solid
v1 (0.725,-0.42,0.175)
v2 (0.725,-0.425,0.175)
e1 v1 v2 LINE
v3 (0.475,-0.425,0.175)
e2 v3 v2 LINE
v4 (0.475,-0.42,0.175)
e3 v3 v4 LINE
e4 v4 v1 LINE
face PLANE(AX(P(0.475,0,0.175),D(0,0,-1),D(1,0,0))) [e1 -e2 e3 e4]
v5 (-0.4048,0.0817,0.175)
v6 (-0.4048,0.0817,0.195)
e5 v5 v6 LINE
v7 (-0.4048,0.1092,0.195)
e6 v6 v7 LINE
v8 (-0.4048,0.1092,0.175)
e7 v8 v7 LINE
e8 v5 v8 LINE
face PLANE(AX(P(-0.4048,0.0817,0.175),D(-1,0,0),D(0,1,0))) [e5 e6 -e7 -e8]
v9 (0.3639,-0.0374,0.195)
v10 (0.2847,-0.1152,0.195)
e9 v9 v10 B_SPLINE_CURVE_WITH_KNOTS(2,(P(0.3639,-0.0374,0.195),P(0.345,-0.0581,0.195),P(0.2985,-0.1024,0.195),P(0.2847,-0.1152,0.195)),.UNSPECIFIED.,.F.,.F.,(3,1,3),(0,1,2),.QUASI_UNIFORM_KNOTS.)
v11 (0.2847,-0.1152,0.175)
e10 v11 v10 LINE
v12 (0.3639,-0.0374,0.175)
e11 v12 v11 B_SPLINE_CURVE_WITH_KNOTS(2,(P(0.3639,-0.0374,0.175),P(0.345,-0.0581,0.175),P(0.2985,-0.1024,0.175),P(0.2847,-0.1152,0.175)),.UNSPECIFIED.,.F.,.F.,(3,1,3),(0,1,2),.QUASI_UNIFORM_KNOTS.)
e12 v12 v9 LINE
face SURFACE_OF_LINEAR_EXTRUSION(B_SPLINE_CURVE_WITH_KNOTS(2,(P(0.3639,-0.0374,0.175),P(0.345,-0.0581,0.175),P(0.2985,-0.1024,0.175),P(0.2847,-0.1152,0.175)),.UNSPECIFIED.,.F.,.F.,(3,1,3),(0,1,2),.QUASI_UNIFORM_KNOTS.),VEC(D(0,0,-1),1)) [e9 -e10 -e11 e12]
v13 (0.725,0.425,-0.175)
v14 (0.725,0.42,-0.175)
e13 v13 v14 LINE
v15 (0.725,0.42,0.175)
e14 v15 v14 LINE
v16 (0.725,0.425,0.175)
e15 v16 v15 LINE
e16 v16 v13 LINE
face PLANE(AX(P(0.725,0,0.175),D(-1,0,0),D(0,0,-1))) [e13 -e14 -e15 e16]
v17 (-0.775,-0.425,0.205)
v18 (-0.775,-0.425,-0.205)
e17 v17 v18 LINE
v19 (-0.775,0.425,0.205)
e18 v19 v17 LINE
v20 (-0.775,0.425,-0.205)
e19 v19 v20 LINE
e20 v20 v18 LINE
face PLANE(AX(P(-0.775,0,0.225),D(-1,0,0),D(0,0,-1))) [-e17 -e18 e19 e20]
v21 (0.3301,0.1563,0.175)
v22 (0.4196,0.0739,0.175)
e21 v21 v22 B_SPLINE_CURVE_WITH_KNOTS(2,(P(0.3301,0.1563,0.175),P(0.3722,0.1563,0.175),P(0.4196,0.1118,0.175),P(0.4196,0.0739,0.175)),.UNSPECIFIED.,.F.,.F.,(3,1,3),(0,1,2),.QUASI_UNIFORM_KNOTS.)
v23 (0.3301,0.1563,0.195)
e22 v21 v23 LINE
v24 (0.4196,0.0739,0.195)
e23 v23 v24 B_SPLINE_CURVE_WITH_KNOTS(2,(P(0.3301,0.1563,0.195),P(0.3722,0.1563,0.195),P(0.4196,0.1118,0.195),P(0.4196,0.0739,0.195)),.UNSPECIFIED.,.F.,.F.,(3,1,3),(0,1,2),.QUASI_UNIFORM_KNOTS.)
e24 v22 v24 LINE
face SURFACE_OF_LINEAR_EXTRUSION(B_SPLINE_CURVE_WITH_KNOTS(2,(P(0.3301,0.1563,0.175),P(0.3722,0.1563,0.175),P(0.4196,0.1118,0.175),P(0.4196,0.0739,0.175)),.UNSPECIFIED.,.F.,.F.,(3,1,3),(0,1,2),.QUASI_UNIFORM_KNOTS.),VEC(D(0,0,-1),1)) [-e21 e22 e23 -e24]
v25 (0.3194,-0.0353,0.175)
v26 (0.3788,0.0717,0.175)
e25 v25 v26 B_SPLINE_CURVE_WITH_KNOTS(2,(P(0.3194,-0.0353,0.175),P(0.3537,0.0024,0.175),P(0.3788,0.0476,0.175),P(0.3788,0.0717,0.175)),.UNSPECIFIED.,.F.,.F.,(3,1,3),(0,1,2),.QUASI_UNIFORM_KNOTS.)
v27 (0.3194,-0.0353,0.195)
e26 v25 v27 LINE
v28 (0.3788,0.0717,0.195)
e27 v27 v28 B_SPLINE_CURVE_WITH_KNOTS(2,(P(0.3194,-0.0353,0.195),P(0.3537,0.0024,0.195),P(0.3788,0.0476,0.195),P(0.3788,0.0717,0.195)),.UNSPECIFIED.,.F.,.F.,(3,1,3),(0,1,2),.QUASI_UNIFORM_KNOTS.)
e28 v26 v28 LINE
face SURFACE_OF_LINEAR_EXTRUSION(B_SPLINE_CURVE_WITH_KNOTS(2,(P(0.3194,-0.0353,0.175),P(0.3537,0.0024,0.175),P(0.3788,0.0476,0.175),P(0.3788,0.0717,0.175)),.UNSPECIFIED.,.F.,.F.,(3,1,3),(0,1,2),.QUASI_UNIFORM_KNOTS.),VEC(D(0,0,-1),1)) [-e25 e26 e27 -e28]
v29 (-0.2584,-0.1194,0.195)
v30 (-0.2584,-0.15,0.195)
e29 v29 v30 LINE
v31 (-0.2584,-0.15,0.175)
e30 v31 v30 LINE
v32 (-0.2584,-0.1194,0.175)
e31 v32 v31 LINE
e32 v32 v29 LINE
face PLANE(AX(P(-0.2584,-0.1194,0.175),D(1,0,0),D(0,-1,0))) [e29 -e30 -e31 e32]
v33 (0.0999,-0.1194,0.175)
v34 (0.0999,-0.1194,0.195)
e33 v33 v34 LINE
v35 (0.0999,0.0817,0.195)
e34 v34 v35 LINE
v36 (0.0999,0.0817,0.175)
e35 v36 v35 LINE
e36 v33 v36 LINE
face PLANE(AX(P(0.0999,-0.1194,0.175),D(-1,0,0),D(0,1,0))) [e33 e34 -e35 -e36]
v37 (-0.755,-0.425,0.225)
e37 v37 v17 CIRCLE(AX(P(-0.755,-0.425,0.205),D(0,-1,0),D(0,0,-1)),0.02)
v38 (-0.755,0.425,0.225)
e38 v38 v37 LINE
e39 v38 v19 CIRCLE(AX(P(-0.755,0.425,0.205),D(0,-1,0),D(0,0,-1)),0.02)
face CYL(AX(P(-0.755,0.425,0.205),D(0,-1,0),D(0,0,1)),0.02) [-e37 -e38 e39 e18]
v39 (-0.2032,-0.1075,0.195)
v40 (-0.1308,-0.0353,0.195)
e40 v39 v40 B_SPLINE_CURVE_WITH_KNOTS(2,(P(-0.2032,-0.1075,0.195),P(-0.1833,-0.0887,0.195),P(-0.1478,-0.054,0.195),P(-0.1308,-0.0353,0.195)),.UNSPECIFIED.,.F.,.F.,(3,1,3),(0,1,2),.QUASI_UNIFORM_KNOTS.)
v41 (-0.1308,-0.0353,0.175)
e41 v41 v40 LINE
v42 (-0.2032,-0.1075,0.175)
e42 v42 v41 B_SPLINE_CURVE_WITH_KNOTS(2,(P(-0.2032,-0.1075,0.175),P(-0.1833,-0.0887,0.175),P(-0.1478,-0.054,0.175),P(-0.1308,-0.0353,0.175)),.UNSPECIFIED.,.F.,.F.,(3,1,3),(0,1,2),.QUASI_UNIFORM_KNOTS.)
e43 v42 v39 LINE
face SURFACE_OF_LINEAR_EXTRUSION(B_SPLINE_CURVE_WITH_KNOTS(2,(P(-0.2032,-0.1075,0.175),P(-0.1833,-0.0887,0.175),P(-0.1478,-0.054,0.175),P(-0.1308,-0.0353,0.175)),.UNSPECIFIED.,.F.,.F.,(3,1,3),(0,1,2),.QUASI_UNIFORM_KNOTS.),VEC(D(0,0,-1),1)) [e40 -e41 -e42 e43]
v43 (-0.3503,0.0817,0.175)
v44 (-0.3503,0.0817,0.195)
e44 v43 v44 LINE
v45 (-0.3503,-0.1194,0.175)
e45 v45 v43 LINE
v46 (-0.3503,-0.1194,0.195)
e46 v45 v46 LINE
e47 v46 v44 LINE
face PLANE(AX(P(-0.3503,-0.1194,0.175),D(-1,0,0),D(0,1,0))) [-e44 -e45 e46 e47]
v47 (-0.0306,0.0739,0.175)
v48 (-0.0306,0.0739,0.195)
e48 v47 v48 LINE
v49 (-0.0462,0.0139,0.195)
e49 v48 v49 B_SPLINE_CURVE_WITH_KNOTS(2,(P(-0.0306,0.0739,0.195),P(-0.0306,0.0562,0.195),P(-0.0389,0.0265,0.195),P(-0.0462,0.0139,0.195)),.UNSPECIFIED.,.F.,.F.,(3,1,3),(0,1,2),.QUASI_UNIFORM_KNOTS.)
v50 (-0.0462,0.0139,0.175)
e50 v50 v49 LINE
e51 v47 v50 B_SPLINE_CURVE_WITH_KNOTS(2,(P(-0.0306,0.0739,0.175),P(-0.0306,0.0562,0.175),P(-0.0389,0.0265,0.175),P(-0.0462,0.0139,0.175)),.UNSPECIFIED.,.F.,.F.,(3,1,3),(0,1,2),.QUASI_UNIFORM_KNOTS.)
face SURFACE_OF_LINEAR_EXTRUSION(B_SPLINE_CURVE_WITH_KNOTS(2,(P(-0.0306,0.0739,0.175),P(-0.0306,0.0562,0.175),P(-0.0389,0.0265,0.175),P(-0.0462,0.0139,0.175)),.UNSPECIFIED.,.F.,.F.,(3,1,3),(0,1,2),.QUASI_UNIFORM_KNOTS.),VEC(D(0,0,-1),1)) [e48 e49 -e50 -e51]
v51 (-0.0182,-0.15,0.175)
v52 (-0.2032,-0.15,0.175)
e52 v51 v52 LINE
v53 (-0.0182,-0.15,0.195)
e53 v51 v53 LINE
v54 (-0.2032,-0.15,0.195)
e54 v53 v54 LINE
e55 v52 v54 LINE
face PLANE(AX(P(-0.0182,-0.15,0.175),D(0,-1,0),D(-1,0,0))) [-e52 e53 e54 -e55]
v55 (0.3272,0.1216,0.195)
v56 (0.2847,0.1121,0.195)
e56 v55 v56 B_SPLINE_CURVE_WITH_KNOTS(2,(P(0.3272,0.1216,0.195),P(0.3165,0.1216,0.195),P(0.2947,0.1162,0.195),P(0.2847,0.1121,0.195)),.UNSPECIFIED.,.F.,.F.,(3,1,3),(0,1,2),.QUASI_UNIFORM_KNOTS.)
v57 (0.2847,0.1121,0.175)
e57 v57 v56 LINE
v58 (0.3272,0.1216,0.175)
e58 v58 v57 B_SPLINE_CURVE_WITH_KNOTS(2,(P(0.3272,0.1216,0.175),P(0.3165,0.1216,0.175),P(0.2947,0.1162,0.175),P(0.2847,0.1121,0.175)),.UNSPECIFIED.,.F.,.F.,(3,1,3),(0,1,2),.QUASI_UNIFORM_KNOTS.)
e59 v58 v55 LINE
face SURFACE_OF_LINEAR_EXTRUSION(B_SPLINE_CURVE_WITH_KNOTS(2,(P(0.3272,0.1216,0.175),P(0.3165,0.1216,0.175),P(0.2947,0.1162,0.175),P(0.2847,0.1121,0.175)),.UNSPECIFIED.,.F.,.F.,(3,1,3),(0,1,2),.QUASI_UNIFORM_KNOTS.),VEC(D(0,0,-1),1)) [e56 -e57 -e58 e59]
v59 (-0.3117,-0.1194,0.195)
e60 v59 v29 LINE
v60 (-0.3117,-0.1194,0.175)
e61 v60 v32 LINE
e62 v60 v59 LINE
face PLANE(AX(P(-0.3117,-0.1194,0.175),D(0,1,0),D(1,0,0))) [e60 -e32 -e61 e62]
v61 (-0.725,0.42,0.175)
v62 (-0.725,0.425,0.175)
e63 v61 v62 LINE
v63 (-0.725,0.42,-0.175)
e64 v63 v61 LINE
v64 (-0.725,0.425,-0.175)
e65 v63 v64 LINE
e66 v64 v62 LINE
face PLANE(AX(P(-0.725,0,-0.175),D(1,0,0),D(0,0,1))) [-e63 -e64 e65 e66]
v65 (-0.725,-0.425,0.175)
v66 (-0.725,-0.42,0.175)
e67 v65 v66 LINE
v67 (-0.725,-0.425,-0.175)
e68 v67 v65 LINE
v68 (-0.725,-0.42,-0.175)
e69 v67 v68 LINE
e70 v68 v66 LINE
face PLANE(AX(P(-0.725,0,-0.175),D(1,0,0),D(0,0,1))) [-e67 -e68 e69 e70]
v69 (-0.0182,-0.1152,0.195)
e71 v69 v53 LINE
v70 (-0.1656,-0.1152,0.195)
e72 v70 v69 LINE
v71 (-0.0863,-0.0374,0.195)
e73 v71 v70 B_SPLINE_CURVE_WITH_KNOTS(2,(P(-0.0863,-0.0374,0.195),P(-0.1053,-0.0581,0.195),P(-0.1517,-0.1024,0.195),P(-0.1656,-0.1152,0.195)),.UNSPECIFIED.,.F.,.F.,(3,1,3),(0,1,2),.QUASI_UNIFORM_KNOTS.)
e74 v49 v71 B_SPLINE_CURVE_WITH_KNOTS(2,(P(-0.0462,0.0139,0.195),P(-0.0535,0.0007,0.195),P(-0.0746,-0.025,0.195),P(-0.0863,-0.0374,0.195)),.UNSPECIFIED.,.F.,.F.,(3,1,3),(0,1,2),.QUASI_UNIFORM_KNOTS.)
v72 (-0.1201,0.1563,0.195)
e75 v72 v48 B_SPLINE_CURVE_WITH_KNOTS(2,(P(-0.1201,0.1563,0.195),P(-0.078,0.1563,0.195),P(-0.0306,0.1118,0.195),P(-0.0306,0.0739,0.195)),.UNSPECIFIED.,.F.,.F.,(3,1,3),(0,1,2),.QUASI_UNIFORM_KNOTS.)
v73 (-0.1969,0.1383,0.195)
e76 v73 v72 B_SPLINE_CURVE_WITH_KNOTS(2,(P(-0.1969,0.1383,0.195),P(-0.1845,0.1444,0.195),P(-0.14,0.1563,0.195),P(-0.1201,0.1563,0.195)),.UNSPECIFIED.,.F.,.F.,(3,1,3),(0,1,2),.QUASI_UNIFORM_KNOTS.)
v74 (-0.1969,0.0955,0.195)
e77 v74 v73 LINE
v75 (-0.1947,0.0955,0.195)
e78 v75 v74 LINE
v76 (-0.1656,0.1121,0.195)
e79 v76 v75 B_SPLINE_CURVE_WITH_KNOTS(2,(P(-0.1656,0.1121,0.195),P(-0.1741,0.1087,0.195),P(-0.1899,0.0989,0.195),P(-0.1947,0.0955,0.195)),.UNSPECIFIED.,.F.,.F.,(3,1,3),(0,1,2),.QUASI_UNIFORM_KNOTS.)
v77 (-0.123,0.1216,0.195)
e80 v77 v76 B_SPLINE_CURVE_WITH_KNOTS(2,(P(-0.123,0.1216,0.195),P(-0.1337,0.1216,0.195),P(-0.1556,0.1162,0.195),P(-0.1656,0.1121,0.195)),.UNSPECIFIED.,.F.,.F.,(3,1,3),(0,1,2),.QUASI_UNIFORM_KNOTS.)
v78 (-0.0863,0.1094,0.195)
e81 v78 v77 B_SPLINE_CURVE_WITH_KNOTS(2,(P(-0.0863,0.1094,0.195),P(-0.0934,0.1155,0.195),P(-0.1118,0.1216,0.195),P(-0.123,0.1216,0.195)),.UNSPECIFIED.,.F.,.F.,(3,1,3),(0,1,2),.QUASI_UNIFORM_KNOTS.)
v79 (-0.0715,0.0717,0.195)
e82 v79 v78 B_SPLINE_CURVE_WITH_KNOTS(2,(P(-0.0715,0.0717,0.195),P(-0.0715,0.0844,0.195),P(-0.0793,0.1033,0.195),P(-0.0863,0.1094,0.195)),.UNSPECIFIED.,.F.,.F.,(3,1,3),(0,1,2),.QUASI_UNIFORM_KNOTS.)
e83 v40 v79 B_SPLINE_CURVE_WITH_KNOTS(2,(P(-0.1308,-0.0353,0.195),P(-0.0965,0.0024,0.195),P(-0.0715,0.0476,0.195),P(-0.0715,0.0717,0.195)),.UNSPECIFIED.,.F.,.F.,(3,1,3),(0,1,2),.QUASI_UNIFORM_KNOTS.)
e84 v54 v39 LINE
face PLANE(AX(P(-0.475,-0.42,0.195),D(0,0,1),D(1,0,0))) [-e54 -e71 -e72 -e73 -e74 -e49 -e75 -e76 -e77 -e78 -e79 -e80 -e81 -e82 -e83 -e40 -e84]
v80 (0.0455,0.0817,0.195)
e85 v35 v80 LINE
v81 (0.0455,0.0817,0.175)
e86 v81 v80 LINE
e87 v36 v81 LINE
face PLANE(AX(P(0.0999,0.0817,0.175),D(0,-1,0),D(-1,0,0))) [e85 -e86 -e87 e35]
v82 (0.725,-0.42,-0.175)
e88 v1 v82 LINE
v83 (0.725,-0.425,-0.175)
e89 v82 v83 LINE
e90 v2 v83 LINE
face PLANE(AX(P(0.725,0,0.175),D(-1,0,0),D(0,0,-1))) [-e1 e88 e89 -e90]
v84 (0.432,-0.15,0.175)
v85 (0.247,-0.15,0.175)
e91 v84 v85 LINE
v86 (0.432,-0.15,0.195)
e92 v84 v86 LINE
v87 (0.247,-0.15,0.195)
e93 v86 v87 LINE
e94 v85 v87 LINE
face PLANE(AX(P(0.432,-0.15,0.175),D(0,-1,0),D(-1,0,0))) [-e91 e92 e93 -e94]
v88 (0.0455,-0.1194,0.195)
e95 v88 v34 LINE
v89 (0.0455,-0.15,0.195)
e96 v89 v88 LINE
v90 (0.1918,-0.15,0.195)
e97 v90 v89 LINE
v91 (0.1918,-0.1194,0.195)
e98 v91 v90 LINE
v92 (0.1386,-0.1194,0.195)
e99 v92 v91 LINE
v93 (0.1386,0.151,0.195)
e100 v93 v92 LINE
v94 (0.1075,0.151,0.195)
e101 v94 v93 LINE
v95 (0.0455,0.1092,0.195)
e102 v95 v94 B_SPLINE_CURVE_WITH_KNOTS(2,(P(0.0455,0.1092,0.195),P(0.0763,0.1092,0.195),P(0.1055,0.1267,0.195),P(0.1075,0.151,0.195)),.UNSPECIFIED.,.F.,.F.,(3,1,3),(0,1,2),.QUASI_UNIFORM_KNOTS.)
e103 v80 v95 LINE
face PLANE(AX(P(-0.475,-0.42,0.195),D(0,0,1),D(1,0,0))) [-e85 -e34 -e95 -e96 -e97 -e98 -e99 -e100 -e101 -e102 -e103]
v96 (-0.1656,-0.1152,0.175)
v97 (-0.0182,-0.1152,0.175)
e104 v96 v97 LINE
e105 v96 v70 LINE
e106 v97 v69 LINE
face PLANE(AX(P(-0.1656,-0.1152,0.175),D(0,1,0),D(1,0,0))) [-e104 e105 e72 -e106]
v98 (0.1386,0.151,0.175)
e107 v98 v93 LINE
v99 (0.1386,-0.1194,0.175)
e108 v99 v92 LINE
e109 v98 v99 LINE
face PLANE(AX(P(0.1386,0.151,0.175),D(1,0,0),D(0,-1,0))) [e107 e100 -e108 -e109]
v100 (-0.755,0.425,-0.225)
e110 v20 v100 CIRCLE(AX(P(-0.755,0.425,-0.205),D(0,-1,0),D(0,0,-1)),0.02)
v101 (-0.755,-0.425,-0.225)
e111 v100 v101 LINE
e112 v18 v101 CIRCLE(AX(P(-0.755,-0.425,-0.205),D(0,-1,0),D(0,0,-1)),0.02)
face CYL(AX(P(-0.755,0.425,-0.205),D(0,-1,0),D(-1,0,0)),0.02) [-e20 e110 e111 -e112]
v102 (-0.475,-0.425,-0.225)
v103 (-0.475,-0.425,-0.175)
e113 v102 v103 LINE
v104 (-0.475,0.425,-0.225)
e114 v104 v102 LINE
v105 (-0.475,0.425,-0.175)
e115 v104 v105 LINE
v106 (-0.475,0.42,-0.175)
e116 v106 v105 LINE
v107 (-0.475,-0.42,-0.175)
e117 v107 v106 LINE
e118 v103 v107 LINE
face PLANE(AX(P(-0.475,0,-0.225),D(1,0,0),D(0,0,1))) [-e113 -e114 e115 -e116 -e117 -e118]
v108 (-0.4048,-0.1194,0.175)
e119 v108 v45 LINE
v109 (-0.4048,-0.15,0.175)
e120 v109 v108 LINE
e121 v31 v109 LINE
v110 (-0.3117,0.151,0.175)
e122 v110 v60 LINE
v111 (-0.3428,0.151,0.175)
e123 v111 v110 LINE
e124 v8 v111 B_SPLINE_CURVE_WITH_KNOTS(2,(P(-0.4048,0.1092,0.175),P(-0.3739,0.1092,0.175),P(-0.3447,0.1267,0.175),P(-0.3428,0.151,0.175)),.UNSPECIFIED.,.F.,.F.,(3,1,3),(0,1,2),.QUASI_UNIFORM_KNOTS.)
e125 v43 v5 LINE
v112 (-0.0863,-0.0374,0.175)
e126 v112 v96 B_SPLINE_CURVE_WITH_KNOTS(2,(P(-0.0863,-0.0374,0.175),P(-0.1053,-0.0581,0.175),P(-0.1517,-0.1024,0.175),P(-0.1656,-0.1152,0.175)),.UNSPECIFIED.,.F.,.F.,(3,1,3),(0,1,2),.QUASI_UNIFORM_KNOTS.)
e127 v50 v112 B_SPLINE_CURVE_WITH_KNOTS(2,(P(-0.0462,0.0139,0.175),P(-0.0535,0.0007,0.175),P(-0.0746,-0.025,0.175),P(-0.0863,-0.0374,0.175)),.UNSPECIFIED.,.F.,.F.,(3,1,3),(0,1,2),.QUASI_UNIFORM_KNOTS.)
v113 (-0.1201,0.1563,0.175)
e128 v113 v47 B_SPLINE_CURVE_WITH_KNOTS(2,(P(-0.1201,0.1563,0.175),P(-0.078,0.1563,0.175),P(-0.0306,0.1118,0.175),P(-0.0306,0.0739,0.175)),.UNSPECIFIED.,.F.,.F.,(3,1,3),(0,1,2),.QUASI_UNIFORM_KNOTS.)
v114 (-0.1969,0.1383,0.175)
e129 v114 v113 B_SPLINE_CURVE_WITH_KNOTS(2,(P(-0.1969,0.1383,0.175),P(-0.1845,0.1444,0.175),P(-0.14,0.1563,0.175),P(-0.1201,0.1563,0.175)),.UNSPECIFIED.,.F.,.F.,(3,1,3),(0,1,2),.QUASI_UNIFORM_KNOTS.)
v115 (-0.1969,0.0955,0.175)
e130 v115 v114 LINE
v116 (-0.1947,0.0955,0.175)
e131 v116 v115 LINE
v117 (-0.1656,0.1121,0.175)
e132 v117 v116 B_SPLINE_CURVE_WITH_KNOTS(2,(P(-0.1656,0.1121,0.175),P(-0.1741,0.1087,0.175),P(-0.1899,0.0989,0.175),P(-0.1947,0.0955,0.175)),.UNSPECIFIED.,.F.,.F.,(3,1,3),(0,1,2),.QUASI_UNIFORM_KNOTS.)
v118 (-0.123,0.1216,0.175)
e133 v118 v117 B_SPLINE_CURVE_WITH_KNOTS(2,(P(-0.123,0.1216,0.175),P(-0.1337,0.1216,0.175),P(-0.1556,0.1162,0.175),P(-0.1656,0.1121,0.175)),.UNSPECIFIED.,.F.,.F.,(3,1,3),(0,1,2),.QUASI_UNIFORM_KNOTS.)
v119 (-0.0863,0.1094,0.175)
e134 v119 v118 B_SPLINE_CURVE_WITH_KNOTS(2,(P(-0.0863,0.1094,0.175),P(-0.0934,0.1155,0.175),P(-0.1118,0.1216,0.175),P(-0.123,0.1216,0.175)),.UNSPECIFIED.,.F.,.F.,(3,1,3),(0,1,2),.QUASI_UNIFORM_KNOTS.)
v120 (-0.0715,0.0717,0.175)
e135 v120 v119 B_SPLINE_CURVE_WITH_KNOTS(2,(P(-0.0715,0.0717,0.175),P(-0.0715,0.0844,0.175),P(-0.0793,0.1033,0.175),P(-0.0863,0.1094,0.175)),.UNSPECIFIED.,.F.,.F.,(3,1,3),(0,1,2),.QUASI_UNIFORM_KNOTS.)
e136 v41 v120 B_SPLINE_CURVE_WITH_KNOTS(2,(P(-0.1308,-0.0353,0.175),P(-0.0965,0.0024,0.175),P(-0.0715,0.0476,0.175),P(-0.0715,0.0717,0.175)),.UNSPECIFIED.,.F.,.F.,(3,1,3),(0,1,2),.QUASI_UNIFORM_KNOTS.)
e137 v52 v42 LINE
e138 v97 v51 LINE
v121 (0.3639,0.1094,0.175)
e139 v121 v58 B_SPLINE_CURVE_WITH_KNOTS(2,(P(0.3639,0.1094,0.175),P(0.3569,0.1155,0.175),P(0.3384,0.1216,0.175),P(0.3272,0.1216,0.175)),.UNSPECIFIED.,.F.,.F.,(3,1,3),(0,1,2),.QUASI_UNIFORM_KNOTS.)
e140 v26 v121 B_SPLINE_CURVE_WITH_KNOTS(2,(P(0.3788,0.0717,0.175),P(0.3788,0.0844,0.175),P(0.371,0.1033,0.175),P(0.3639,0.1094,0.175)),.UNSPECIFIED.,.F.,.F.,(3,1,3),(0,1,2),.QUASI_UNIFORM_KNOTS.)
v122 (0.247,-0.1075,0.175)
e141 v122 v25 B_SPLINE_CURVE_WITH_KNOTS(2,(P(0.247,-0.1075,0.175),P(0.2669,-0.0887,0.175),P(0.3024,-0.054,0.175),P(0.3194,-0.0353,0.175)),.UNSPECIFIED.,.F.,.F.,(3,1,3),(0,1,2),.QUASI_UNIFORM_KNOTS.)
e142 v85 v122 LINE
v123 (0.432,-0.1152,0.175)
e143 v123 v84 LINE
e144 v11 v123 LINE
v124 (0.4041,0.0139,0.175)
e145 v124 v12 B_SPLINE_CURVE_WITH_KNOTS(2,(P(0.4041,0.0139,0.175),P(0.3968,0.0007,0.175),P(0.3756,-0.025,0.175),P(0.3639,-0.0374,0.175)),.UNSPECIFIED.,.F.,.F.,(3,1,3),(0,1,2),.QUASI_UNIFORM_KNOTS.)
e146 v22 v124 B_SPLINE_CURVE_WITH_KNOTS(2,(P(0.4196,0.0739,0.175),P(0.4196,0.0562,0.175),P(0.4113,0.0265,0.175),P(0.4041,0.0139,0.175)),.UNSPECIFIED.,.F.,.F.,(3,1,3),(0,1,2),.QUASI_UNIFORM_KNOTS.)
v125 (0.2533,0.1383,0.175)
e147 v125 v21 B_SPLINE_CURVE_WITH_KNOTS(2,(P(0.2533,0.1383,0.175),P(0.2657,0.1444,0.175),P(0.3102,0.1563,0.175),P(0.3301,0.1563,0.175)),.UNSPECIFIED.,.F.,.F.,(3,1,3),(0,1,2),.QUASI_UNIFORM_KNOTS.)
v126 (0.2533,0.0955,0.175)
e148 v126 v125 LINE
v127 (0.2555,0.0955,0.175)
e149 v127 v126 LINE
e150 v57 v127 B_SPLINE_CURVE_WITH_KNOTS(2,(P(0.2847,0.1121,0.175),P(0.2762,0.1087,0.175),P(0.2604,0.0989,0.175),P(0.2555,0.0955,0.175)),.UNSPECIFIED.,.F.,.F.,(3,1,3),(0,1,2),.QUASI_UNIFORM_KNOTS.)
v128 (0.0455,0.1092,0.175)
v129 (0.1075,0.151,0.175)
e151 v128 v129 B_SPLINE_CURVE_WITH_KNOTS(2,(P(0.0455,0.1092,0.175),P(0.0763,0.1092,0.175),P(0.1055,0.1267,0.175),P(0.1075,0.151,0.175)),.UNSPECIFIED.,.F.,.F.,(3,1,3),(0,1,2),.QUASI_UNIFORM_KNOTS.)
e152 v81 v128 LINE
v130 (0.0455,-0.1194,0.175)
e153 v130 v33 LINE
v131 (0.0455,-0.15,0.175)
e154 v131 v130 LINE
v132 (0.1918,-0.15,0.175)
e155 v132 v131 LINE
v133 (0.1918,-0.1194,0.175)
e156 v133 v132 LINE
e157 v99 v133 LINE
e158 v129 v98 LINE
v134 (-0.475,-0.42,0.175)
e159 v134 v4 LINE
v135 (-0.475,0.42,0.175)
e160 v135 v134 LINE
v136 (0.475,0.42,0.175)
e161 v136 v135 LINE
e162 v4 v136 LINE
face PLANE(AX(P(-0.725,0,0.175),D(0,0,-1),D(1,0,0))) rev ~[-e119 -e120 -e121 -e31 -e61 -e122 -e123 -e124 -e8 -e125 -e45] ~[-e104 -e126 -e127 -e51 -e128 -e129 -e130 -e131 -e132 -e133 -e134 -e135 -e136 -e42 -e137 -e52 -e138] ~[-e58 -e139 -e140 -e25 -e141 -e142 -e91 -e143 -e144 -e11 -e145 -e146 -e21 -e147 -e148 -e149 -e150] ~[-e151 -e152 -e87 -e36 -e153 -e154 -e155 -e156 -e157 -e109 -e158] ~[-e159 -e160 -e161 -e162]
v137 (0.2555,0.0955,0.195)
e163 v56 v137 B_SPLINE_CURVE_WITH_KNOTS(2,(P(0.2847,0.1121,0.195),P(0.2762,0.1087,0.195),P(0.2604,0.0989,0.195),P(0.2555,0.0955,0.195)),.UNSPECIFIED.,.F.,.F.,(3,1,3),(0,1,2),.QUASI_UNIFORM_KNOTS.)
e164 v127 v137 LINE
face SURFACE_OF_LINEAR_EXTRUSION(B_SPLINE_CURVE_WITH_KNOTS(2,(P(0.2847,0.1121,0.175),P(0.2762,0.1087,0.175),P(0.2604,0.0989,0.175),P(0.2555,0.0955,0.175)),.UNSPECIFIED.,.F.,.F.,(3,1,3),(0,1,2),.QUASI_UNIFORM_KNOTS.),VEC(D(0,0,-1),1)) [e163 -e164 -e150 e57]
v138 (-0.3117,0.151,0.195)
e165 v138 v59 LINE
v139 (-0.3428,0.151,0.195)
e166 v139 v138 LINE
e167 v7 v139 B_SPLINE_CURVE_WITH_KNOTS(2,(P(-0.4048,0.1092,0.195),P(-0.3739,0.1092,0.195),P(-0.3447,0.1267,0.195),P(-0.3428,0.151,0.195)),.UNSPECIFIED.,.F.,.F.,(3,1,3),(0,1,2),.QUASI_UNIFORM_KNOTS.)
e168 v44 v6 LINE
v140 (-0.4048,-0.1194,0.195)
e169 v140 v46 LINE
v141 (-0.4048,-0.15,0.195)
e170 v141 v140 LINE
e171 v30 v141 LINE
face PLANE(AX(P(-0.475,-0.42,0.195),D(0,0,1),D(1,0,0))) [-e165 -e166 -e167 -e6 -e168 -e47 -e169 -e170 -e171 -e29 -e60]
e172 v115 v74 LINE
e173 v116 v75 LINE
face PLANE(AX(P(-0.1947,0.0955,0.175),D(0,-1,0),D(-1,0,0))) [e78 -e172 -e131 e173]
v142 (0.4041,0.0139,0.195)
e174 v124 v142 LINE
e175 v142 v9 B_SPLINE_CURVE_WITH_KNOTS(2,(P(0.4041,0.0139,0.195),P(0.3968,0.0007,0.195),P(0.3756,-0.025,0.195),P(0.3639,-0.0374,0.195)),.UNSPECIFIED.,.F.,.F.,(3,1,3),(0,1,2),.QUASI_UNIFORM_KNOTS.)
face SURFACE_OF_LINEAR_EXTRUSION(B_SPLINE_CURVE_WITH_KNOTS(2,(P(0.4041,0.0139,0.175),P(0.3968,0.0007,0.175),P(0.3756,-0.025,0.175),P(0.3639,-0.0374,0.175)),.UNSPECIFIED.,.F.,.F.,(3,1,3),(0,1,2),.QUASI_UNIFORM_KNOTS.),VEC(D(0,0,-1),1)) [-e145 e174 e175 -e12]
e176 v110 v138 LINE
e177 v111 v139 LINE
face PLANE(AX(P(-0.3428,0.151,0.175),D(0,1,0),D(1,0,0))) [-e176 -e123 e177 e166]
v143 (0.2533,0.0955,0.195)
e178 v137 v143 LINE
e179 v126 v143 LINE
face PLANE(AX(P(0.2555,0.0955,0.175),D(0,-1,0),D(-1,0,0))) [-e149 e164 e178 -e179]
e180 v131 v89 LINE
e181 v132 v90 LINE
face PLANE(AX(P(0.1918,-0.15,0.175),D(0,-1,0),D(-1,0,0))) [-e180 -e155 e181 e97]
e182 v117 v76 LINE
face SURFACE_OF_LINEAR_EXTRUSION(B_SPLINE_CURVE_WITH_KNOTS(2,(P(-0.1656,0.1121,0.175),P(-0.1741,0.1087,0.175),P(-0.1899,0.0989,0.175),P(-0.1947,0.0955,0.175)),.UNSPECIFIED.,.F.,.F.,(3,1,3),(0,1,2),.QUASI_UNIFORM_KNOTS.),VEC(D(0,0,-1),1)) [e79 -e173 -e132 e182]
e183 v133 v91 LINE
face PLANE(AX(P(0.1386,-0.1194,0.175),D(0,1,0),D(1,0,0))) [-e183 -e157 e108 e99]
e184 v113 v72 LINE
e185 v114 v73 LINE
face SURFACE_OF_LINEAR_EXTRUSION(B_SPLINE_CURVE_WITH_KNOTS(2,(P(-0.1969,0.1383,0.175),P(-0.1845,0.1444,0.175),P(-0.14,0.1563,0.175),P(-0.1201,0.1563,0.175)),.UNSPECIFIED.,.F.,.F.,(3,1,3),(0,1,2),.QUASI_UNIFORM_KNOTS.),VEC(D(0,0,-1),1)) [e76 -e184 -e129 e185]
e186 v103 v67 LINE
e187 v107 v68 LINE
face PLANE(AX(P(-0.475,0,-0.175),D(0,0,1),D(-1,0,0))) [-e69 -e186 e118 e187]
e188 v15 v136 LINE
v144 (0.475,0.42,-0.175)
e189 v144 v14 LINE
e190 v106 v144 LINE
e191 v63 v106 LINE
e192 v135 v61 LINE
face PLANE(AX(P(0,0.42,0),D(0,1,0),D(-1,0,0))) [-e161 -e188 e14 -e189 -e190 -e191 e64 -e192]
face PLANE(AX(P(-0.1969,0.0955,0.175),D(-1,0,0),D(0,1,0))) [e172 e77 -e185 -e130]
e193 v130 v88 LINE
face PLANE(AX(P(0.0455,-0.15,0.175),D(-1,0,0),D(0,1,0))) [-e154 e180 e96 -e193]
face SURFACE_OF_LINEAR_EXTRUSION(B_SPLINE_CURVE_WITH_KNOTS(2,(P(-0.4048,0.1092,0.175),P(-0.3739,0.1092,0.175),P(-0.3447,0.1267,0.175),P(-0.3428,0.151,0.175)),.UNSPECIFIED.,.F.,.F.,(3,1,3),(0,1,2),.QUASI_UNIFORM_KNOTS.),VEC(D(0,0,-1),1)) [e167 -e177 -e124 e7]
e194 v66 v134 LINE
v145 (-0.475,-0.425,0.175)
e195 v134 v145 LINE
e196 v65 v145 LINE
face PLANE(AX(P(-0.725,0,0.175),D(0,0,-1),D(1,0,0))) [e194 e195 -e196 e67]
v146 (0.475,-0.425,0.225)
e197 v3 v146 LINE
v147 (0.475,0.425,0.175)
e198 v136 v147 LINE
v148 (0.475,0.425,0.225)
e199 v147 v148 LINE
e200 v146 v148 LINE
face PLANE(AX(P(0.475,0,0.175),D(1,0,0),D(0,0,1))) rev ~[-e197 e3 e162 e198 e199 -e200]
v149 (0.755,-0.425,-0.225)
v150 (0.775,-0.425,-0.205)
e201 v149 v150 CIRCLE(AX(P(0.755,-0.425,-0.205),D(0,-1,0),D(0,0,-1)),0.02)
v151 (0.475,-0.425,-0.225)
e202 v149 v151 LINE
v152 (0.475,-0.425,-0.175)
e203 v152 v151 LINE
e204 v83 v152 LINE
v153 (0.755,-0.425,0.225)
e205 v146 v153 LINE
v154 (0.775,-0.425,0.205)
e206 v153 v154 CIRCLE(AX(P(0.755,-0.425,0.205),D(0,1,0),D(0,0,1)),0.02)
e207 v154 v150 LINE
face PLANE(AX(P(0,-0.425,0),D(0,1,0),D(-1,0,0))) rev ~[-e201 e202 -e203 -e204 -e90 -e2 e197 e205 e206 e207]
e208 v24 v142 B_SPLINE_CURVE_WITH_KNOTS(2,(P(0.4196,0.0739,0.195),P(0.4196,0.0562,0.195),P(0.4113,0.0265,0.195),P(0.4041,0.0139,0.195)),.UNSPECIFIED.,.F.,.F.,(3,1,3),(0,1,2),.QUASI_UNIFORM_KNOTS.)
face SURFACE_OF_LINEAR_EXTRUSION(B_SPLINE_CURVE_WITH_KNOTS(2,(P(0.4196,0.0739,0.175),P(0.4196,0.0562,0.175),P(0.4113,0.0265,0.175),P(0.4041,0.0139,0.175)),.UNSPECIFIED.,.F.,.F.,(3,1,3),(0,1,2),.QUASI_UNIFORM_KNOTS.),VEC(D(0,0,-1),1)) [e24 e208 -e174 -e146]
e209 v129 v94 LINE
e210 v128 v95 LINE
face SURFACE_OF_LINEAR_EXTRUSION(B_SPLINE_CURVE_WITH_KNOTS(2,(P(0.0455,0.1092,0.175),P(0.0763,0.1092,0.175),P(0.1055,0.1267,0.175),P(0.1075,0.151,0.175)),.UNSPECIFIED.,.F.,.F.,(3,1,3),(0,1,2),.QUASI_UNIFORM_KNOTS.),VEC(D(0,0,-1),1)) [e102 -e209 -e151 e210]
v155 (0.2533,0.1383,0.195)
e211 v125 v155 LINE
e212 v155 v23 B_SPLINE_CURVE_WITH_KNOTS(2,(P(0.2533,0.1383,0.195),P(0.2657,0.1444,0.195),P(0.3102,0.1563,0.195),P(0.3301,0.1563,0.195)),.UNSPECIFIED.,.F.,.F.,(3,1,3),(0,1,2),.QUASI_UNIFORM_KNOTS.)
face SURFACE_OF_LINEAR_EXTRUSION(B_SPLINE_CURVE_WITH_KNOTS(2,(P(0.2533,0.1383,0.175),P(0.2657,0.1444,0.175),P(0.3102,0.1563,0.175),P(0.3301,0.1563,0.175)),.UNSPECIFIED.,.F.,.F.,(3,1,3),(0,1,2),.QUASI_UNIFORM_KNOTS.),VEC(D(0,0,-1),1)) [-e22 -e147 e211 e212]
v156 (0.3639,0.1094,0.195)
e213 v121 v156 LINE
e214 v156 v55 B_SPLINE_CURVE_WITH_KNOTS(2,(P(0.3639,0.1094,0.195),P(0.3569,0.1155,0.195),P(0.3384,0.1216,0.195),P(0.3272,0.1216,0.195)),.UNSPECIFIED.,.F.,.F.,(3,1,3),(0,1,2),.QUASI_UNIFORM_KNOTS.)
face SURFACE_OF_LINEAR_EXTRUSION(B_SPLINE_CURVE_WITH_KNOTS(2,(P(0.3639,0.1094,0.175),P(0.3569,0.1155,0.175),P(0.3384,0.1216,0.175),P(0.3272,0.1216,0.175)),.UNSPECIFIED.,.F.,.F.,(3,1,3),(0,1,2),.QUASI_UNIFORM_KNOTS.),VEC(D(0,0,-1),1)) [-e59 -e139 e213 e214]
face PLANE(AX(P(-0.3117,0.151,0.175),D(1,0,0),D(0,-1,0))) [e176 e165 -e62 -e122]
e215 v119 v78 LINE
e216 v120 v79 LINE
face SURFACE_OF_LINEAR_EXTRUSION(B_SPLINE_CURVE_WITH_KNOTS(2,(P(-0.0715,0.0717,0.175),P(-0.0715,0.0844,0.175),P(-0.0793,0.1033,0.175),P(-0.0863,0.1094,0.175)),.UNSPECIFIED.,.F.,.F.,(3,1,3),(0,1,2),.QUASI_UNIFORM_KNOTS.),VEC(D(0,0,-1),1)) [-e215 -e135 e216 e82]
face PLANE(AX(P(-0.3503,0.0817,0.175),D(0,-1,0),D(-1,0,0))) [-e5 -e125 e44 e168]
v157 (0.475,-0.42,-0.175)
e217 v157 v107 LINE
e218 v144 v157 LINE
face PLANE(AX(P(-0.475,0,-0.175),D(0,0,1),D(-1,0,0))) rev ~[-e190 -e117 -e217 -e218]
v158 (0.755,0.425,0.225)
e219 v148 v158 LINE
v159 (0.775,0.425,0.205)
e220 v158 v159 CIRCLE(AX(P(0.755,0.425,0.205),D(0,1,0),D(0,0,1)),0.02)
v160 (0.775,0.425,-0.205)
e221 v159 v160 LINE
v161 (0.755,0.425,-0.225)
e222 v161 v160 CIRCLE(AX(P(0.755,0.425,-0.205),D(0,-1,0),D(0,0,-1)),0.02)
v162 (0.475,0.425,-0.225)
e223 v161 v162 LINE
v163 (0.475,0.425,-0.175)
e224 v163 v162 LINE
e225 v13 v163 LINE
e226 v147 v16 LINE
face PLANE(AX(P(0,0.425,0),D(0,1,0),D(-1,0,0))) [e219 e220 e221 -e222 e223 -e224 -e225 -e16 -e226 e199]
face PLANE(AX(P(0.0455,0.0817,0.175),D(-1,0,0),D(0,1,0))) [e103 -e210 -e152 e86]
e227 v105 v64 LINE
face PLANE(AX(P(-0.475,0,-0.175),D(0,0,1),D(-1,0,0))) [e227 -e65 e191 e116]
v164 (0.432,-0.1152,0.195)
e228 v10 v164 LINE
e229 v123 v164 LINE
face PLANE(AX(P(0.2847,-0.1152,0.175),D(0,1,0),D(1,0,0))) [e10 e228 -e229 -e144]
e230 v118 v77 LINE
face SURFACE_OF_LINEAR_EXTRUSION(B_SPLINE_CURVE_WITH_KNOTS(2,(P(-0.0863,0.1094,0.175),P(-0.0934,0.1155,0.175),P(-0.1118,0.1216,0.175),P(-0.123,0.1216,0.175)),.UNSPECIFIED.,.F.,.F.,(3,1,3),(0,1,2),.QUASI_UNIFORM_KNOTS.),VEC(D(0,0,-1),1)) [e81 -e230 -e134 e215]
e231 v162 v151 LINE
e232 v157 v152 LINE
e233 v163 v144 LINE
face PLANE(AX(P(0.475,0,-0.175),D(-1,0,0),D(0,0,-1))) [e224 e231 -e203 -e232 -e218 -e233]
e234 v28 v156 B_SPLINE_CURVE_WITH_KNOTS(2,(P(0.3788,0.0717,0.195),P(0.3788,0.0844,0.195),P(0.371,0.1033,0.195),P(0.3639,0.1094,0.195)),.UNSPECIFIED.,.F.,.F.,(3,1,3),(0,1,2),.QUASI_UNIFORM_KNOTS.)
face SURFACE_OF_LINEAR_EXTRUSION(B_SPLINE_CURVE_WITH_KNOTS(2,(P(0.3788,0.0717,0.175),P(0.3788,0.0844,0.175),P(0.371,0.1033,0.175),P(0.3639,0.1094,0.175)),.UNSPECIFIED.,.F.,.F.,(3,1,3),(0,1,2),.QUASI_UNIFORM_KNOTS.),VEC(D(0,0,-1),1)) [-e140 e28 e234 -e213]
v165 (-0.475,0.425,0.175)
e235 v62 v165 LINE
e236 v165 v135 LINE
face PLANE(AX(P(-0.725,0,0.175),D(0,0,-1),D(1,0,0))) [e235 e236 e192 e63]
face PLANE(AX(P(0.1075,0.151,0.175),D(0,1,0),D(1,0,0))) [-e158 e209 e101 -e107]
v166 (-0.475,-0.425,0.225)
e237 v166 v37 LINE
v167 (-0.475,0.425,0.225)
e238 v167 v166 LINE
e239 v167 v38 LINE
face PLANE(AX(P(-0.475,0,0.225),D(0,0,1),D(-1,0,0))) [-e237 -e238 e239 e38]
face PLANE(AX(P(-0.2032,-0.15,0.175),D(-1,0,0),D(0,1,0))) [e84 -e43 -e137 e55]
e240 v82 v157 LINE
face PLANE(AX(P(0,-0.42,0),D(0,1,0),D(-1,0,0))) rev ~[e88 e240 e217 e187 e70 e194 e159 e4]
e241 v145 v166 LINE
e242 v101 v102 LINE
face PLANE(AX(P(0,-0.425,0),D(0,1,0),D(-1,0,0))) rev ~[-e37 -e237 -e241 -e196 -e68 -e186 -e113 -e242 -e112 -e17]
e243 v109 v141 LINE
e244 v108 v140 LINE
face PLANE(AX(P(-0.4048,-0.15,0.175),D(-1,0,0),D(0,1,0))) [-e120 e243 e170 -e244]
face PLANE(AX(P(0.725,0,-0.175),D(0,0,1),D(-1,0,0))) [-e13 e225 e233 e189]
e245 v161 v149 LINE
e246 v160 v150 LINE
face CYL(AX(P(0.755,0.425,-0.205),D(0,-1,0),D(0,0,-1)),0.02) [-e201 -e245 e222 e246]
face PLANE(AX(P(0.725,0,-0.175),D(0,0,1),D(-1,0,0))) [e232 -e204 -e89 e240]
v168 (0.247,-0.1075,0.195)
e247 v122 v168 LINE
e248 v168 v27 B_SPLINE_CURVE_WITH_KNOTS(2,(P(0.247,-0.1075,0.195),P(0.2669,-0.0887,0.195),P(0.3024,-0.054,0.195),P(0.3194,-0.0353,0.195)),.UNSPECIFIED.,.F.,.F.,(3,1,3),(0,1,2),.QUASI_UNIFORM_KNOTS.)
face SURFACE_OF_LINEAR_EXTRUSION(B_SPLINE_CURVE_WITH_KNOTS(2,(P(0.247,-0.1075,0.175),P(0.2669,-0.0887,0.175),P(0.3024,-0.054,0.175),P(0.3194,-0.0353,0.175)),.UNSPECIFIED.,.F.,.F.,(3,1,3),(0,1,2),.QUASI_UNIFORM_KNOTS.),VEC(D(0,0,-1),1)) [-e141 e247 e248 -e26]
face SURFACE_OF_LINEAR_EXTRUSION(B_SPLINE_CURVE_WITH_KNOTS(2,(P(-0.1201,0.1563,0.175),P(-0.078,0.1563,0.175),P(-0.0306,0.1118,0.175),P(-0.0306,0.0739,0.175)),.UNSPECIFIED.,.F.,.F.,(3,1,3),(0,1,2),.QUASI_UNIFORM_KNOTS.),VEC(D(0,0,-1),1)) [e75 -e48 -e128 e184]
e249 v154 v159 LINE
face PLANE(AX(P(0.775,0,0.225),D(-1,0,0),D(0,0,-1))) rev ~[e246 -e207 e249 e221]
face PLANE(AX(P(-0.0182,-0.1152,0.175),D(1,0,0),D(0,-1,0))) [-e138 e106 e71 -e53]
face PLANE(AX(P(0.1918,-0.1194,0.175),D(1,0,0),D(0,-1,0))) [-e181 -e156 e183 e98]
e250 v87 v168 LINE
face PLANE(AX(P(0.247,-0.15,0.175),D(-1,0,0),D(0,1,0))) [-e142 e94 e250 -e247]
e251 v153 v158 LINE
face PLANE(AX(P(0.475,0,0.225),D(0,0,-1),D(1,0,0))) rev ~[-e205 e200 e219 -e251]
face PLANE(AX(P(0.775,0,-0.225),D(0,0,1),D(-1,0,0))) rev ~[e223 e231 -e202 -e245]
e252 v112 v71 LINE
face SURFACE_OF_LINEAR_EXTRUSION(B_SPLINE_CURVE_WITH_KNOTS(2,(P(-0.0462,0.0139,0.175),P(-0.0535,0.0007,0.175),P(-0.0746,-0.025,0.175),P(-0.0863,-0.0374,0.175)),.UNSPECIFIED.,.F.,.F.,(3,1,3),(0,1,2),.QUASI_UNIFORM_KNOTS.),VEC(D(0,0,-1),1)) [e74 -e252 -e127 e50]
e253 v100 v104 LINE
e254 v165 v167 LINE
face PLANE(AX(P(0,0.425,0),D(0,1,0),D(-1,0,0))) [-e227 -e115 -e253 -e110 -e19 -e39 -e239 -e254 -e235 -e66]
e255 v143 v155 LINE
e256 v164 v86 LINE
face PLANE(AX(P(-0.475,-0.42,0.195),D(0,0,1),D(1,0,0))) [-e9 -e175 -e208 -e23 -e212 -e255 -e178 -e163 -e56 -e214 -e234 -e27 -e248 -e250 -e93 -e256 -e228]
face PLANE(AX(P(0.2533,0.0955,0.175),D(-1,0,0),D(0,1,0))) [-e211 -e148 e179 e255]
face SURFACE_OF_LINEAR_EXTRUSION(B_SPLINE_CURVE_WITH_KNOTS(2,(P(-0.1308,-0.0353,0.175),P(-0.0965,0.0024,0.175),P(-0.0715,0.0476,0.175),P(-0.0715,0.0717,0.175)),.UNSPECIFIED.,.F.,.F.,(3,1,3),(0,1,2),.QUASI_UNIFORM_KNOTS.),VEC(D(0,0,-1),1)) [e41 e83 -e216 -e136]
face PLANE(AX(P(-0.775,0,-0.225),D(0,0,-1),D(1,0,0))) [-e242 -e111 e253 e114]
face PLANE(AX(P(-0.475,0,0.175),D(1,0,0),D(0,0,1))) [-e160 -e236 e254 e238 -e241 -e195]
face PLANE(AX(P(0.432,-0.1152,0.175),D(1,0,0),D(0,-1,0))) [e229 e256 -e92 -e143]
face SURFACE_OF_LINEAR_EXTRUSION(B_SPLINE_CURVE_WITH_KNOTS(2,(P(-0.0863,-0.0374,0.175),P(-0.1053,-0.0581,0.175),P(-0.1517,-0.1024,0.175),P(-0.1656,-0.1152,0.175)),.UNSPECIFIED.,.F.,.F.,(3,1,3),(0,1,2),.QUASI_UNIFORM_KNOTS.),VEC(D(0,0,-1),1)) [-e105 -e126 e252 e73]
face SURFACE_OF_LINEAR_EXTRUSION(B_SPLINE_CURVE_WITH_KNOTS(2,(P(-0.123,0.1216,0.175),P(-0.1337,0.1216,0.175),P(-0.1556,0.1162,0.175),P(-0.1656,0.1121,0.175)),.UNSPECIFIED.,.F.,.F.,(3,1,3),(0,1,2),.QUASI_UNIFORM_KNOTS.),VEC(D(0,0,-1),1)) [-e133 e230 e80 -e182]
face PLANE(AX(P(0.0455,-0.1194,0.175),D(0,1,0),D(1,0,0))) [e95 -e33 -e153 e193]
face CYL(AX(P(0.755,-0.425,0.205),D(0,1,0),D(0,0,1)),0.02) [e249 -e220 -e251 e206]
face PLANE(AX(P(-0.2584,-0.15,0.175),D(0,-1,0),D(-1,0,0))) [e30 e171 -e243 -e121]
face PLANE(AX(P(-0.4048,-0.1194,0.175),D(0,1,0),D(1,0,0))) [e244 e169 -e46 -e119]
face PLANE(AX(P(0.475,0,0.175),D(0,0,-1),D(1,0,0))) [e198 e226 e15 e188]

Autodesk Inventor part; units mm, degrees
ref_plane "YZ Plane" through (0, 0, 0) normal (1, 0, 0) x (0, 1, 0)
ref_plane "XZ Plane" through (0, 0, 0) normal (0, 1, 0) x (-1, 0, 0)
ref_plane "XY Plane" through (0, 0, 0) normal (0, 0, 1) x (1, 0, 0)
sketch "Sketch1" plane through (0, 0, 0) normal (0, 1, 0) x (-1, 0, 0)
  line L0 (0.725, 0.175) -> (-0.725, 0.175)
  line L1 (-0.725, 0.175) -> (-0.725, -0.175)
  line L2 (-0.725, -0.175) -> (0.725, -0.175)
  line L3 (0.725, -0.175) -> (0.725, 0.175)
  line L4 (0.475, 0.175) -> (0.475, 0.225)
  line L5 (0.475, 0.225) -> (0.775, 0.225)
  line L6 (0.775, 0.225) -> (0.775, -0.225)
  line L7 (0.775, -0.225) -> (0.475, -0.225)
  line L8 (0.475, -0.225) -> (0.475, -0.175)
  line L9 (-0.475, 0.175) -> (-0.475, 0.225)
  line L10 (-0.475, 0.225) -> (-0.775, 0.225)
  line L11 (-0.775, 0.225) -> (-0.775, -0.225)
  line L12 (-0.775, -0.225) -> (-0.475, -0.225)
  line L13 (-0.475, -0.175) -> (-0.475, -0.225)
  line L14 (0.475, 0.175) -> (-0.475, 0.175)
  point P0 (0, 0)
  point P1 (0, 0.175)
  point P2 (0.725, 0)
  dimension "d0" = 1.55
  dimension "d1" = 0.05
  dimension "d2" = 0.05
  dimension "d3" = 0.45
  dimension "d4" = 0.3
extrude "Extrusion1" add sketch "Sketch1" along normal mid plane 0.85 contours L0 L4 L5 L6 L7 L8 L2 L3 | L0 L1 L2 L13 L12 L11 L10 L9
extrude "Extrusion2" add sketch "Sketch1" along normal mid plane 0.84 contours L3 L2 L1 L0
sketch "Sketch2" plane through (-0.475, -0.42, 0.175) normal (0, 0, 1) x (1, 0, 0)
  line L0 (0, 0) -> (0, 0.84) projected
  line L1 (0.95, 0) -> (0, 0) projected
  line L2 (0.95, 0) -> (0.95, 0.84) projected
  line L3 (0, 0.84) -> (0.95, 0.84) projected
  line L4 (0, 0.42) -> (0.95, 0.42) construction
  line L5 (0.2166, 0.27) -> (0.0702, 0.27)
  line L6 (0.0702, 0.27) -> (0.0702, 0.3006)
  line L7 (0.0702, 0.3006) -> (0.1247, 0.3006)
  line L8 (0.1247, 0.3006) -> (0.1247, 0.5017)
  line L9 (0.1247, 0.5017) -> (0.0702, 0.5017)
  line L10 (0.0702, 0.5017) -> (0.0702, 0.5292)
  spline S0 degree 2 poles (0.0702, 0.5292) (0.1011, 0.5292) (0.1303, 0.5467) (0.1322, 0.571) knots 0 0 0 1 2 2 2
  line L11 (0.1322, 0.571) -> (0.1633, 0.571)
  line L12 (0.1633, 0.571) -> (0.1633, 0.3006)
  line L13 (0.1633, 0.3006) -> (0.2166, 0.3006)
  line L14 (0.2166, 0.3006) -> (0.2166, 0.27)
  line L15 (0.4568, 0.27) -> (0.2718, 0.27)
  line L16 (0.2718, 0.27) -> (0.2718, 0.3125)
  spline S1 degree 2 poles (0.2718, 0.3125) (0.2917, 0.3313) (0.3272, 0.366) (0.3442, 0.3847) knots 0 0 0 1 2 2 2
  spline S2 degree 2 poles (0.3442, 0.3847) (0.3785, 0.4224) (0.4035, 0.4676) (0.4035, 0.4917) knots 0 0 0 1 2 2 2
  spline S3 degree 2 poles (0.4035, 0.4917) (0.4035, 0.5044) (0.3957, 0.5233) (0.3887, 0.5294) knots 0 0 0 1 2 2 2
  spline S4 degree 2 poles (0.3887, 0.5294) (0.3816, 0.5355) (0.3632, 0.5416) (0.352, 0.5416) knots 0 0 0 1 2 2 2
  spline S5 degree 2 poles (0.352, 0.5416) (0.3413, 0.5416) (0.3194, 0.5362) (0.3094, 0.5321) knots 0 0 0 1 2 2 2
  spline S6 degree 2 poles (0.3094, 0.5321) (0.3009, 0.5287) (0.2851, 0.5189) (0.2803, 0.5155) knots 0 0 0 1 2 2 2
  line L17 (0.2803, 0.5155) -> (0.2781, 0.5155)
  line L18 (0.2781, 0.5155) -> (0.2781, 0.5583)
  spline S7 degree 2 poles (0.2781, 0.5583) (0.2905, 0.5644) (0.335, 0.5763) (0.3549, 0.5763) knots 0 0 0 1 2 2 2
  spline S8 degree 2 poles (0.3549, 0.5763) (0.397, 0.5763) (0.4444, 0.5318) (0.4444, 0.4939) knots 0 0 0 1 2 2 2
  spline S9 degree 2 poles (0.4444, 0.4939) (0.4444, 0.4762) (0.4361, 0.4465) (0.4288, 0.4339) knots 0 0 0 1 2 2 2
  spline S10 degree 2 poles (0.4288, 0.4339) (0.4215, 0.4207) (0.4004, 0.395) (0.3887, 0.3826) knots 0 0 0 1 2 2 2
  spline S11 degree 2 poles (0.3887, 0.3826) (0.3697, 0.3619) (0.3233, 0.3176) (0.3094, 0.3048) knots 0 0 0 1 2 2 2
  line L19 (0.3094, 0.3048) -> (0.4568, 0.3048)
  line L20 (0.4568, 0.3048) -> (0.4568, 0.27)
  line L21 (0.6668, 0.27) -> (0.5205, 0.27)
  line L22 (0.5205, 0.27) -> (0.5205, 0.3006)
  line L23 (0.5205, 0.3006) -> (0.5749, 0.3006)
  line L24 (0.5749, 0.3006) -> (0.5749, 0.5017)
  line L25 (0.5749, 0.5017) -> (0.5205, 0.5017)
  line L26 (0.5205, 0.5017) -> (0.5205, 0.5292)
  spline S12 degree 2 poles (0.5205, 0.5292) (0.5513, 0.5292) (0.5805, 0.5467) (0.5825, 0.571) knots 0 0 0 1 2 2 2
  line L27 (0.5825, 0.571) -> (0.6136, 0.571)
  line L28 (0.6136, 0.571) -> (0.6136, 0.3006)
  line L29 (0.6136, 0.3006) -> (0.6668, 0.3006)
  line L30 (0.6668, 0.3006) -> (0.6668, 0.27)
  line L31 (0.907, 0.27) -> (0.722, 0.27)
  line L32 (0.722, 0.27) -> (0.722, 0.3125)
  spline S13 degree 2 poles (0.722, 0.3125) (0.7419, 0.3313) (0.7774, 0.366) (0.7944, 0.3847) knots 0 0 0 1 2 2 2
  spline S14 degree 2 poles (0.7944, 0.3847) (0.8287, 0.4224) (0.8538, 0.4676) (0.8538, 0.4917) knots 0 0 0 1 2 2 2
  spline S15 degree 2 poles (0.8538, 0.4917) (0.8538, 0.5044) (0.846, 0.5233) (0.8389, 0.5294) knots 0 0 0 1 2 2 2
  spline S16 degree 2 poles (0.8389, 0.5294) (0.8319, 0.5355) (0.8134, 0.5416) (0.8022, 0.5416) knots 0 0 0 1 2 2 2
  spline S17 degree 2 poles (0.8022, 0.5416) (0.7915, 0.5416) (0.7697, 0.5362) (0.7597, 0.5321) knots 0 0 0 1 2 2 2
  spline S18 degree 2 poles (0.7597, 0.5321) (0.7512, 0.5287) (0.7354, 0.5189) (0.7305, 0.5155) knots 0 0 0 1 2 2 2
  line L33 (0.7305, 0.5155) -> (0.7283, 0.5155)
  line L34 (0.7283, 0.5155) -> (0.7283, 0.5583)
  spline S19 degree 2 poles (0.7283, 0.5583) (0.7407, 0.5644) (0.7852, 0.5763) (0.8051, 0.5763) knots 0 0 0 1 2 2 2
  spline S20 degree 2 poles (0.8051, 0.5763) (0.8472, 0.5763) (0.8946, 0.5318) (0.8946, 0.4939) knots 0 0 0 1 2 2 2
  spline S21 degree 2 poles (0.8946, 0.4939) (0.8946, 0.4762) (0.8863, 0.4465) (0.8791, 0.4339) knots 0 0 0 1 2 2 2
  spline S22 degree 2 poles (0.8791, 0.4339) (0.8718, 0.4207) (0.8506, 0.395) (0.8389, 0.3826) knots 0 0 0 1 2 2 2
  spline S23 degree 2 poles (0.8389, 0.3826) (0.82, 0.3619) (0.7735, 0.3176) (0.7597, 0.3048) knots 0 0 0 1 2 2 2
  line L35 (0.7597, 0.3048) -> (0.907, 0.3048)
  line L36 (0.907, 0.3048) -> (0.907, 0.27)
  point P0 (0.475, 0.42)
extrude "Extrusion3" add sketch "Sketch2" along normal blind 0.02 contours L5 L6 L7 L8 L9 L10 S0 L11 L12 L13 L14 | L15 L16 S1 S2 S3 S4 S5 S6 L17 L18 S7 S8 S9 S10 S11 L19 L20 | L21 L22 L23 L24 L25 L26 S12 L27 L28 L29 L30 | L31 L32 S13 S14 S15 S16 S17 S18 L33 L34 S19 S20 S21 S22 S23 L35 L36
fillet "Fillet1" radius 0.02 4 edges at (-0.775, 0, 0.225) (-0.775, 0, -0.225) (0.775, 0, 0.225) (0.775, 0, -0.225)
equation "\"d2\" = d1"
properties part number "21-1001" material "Copper"
